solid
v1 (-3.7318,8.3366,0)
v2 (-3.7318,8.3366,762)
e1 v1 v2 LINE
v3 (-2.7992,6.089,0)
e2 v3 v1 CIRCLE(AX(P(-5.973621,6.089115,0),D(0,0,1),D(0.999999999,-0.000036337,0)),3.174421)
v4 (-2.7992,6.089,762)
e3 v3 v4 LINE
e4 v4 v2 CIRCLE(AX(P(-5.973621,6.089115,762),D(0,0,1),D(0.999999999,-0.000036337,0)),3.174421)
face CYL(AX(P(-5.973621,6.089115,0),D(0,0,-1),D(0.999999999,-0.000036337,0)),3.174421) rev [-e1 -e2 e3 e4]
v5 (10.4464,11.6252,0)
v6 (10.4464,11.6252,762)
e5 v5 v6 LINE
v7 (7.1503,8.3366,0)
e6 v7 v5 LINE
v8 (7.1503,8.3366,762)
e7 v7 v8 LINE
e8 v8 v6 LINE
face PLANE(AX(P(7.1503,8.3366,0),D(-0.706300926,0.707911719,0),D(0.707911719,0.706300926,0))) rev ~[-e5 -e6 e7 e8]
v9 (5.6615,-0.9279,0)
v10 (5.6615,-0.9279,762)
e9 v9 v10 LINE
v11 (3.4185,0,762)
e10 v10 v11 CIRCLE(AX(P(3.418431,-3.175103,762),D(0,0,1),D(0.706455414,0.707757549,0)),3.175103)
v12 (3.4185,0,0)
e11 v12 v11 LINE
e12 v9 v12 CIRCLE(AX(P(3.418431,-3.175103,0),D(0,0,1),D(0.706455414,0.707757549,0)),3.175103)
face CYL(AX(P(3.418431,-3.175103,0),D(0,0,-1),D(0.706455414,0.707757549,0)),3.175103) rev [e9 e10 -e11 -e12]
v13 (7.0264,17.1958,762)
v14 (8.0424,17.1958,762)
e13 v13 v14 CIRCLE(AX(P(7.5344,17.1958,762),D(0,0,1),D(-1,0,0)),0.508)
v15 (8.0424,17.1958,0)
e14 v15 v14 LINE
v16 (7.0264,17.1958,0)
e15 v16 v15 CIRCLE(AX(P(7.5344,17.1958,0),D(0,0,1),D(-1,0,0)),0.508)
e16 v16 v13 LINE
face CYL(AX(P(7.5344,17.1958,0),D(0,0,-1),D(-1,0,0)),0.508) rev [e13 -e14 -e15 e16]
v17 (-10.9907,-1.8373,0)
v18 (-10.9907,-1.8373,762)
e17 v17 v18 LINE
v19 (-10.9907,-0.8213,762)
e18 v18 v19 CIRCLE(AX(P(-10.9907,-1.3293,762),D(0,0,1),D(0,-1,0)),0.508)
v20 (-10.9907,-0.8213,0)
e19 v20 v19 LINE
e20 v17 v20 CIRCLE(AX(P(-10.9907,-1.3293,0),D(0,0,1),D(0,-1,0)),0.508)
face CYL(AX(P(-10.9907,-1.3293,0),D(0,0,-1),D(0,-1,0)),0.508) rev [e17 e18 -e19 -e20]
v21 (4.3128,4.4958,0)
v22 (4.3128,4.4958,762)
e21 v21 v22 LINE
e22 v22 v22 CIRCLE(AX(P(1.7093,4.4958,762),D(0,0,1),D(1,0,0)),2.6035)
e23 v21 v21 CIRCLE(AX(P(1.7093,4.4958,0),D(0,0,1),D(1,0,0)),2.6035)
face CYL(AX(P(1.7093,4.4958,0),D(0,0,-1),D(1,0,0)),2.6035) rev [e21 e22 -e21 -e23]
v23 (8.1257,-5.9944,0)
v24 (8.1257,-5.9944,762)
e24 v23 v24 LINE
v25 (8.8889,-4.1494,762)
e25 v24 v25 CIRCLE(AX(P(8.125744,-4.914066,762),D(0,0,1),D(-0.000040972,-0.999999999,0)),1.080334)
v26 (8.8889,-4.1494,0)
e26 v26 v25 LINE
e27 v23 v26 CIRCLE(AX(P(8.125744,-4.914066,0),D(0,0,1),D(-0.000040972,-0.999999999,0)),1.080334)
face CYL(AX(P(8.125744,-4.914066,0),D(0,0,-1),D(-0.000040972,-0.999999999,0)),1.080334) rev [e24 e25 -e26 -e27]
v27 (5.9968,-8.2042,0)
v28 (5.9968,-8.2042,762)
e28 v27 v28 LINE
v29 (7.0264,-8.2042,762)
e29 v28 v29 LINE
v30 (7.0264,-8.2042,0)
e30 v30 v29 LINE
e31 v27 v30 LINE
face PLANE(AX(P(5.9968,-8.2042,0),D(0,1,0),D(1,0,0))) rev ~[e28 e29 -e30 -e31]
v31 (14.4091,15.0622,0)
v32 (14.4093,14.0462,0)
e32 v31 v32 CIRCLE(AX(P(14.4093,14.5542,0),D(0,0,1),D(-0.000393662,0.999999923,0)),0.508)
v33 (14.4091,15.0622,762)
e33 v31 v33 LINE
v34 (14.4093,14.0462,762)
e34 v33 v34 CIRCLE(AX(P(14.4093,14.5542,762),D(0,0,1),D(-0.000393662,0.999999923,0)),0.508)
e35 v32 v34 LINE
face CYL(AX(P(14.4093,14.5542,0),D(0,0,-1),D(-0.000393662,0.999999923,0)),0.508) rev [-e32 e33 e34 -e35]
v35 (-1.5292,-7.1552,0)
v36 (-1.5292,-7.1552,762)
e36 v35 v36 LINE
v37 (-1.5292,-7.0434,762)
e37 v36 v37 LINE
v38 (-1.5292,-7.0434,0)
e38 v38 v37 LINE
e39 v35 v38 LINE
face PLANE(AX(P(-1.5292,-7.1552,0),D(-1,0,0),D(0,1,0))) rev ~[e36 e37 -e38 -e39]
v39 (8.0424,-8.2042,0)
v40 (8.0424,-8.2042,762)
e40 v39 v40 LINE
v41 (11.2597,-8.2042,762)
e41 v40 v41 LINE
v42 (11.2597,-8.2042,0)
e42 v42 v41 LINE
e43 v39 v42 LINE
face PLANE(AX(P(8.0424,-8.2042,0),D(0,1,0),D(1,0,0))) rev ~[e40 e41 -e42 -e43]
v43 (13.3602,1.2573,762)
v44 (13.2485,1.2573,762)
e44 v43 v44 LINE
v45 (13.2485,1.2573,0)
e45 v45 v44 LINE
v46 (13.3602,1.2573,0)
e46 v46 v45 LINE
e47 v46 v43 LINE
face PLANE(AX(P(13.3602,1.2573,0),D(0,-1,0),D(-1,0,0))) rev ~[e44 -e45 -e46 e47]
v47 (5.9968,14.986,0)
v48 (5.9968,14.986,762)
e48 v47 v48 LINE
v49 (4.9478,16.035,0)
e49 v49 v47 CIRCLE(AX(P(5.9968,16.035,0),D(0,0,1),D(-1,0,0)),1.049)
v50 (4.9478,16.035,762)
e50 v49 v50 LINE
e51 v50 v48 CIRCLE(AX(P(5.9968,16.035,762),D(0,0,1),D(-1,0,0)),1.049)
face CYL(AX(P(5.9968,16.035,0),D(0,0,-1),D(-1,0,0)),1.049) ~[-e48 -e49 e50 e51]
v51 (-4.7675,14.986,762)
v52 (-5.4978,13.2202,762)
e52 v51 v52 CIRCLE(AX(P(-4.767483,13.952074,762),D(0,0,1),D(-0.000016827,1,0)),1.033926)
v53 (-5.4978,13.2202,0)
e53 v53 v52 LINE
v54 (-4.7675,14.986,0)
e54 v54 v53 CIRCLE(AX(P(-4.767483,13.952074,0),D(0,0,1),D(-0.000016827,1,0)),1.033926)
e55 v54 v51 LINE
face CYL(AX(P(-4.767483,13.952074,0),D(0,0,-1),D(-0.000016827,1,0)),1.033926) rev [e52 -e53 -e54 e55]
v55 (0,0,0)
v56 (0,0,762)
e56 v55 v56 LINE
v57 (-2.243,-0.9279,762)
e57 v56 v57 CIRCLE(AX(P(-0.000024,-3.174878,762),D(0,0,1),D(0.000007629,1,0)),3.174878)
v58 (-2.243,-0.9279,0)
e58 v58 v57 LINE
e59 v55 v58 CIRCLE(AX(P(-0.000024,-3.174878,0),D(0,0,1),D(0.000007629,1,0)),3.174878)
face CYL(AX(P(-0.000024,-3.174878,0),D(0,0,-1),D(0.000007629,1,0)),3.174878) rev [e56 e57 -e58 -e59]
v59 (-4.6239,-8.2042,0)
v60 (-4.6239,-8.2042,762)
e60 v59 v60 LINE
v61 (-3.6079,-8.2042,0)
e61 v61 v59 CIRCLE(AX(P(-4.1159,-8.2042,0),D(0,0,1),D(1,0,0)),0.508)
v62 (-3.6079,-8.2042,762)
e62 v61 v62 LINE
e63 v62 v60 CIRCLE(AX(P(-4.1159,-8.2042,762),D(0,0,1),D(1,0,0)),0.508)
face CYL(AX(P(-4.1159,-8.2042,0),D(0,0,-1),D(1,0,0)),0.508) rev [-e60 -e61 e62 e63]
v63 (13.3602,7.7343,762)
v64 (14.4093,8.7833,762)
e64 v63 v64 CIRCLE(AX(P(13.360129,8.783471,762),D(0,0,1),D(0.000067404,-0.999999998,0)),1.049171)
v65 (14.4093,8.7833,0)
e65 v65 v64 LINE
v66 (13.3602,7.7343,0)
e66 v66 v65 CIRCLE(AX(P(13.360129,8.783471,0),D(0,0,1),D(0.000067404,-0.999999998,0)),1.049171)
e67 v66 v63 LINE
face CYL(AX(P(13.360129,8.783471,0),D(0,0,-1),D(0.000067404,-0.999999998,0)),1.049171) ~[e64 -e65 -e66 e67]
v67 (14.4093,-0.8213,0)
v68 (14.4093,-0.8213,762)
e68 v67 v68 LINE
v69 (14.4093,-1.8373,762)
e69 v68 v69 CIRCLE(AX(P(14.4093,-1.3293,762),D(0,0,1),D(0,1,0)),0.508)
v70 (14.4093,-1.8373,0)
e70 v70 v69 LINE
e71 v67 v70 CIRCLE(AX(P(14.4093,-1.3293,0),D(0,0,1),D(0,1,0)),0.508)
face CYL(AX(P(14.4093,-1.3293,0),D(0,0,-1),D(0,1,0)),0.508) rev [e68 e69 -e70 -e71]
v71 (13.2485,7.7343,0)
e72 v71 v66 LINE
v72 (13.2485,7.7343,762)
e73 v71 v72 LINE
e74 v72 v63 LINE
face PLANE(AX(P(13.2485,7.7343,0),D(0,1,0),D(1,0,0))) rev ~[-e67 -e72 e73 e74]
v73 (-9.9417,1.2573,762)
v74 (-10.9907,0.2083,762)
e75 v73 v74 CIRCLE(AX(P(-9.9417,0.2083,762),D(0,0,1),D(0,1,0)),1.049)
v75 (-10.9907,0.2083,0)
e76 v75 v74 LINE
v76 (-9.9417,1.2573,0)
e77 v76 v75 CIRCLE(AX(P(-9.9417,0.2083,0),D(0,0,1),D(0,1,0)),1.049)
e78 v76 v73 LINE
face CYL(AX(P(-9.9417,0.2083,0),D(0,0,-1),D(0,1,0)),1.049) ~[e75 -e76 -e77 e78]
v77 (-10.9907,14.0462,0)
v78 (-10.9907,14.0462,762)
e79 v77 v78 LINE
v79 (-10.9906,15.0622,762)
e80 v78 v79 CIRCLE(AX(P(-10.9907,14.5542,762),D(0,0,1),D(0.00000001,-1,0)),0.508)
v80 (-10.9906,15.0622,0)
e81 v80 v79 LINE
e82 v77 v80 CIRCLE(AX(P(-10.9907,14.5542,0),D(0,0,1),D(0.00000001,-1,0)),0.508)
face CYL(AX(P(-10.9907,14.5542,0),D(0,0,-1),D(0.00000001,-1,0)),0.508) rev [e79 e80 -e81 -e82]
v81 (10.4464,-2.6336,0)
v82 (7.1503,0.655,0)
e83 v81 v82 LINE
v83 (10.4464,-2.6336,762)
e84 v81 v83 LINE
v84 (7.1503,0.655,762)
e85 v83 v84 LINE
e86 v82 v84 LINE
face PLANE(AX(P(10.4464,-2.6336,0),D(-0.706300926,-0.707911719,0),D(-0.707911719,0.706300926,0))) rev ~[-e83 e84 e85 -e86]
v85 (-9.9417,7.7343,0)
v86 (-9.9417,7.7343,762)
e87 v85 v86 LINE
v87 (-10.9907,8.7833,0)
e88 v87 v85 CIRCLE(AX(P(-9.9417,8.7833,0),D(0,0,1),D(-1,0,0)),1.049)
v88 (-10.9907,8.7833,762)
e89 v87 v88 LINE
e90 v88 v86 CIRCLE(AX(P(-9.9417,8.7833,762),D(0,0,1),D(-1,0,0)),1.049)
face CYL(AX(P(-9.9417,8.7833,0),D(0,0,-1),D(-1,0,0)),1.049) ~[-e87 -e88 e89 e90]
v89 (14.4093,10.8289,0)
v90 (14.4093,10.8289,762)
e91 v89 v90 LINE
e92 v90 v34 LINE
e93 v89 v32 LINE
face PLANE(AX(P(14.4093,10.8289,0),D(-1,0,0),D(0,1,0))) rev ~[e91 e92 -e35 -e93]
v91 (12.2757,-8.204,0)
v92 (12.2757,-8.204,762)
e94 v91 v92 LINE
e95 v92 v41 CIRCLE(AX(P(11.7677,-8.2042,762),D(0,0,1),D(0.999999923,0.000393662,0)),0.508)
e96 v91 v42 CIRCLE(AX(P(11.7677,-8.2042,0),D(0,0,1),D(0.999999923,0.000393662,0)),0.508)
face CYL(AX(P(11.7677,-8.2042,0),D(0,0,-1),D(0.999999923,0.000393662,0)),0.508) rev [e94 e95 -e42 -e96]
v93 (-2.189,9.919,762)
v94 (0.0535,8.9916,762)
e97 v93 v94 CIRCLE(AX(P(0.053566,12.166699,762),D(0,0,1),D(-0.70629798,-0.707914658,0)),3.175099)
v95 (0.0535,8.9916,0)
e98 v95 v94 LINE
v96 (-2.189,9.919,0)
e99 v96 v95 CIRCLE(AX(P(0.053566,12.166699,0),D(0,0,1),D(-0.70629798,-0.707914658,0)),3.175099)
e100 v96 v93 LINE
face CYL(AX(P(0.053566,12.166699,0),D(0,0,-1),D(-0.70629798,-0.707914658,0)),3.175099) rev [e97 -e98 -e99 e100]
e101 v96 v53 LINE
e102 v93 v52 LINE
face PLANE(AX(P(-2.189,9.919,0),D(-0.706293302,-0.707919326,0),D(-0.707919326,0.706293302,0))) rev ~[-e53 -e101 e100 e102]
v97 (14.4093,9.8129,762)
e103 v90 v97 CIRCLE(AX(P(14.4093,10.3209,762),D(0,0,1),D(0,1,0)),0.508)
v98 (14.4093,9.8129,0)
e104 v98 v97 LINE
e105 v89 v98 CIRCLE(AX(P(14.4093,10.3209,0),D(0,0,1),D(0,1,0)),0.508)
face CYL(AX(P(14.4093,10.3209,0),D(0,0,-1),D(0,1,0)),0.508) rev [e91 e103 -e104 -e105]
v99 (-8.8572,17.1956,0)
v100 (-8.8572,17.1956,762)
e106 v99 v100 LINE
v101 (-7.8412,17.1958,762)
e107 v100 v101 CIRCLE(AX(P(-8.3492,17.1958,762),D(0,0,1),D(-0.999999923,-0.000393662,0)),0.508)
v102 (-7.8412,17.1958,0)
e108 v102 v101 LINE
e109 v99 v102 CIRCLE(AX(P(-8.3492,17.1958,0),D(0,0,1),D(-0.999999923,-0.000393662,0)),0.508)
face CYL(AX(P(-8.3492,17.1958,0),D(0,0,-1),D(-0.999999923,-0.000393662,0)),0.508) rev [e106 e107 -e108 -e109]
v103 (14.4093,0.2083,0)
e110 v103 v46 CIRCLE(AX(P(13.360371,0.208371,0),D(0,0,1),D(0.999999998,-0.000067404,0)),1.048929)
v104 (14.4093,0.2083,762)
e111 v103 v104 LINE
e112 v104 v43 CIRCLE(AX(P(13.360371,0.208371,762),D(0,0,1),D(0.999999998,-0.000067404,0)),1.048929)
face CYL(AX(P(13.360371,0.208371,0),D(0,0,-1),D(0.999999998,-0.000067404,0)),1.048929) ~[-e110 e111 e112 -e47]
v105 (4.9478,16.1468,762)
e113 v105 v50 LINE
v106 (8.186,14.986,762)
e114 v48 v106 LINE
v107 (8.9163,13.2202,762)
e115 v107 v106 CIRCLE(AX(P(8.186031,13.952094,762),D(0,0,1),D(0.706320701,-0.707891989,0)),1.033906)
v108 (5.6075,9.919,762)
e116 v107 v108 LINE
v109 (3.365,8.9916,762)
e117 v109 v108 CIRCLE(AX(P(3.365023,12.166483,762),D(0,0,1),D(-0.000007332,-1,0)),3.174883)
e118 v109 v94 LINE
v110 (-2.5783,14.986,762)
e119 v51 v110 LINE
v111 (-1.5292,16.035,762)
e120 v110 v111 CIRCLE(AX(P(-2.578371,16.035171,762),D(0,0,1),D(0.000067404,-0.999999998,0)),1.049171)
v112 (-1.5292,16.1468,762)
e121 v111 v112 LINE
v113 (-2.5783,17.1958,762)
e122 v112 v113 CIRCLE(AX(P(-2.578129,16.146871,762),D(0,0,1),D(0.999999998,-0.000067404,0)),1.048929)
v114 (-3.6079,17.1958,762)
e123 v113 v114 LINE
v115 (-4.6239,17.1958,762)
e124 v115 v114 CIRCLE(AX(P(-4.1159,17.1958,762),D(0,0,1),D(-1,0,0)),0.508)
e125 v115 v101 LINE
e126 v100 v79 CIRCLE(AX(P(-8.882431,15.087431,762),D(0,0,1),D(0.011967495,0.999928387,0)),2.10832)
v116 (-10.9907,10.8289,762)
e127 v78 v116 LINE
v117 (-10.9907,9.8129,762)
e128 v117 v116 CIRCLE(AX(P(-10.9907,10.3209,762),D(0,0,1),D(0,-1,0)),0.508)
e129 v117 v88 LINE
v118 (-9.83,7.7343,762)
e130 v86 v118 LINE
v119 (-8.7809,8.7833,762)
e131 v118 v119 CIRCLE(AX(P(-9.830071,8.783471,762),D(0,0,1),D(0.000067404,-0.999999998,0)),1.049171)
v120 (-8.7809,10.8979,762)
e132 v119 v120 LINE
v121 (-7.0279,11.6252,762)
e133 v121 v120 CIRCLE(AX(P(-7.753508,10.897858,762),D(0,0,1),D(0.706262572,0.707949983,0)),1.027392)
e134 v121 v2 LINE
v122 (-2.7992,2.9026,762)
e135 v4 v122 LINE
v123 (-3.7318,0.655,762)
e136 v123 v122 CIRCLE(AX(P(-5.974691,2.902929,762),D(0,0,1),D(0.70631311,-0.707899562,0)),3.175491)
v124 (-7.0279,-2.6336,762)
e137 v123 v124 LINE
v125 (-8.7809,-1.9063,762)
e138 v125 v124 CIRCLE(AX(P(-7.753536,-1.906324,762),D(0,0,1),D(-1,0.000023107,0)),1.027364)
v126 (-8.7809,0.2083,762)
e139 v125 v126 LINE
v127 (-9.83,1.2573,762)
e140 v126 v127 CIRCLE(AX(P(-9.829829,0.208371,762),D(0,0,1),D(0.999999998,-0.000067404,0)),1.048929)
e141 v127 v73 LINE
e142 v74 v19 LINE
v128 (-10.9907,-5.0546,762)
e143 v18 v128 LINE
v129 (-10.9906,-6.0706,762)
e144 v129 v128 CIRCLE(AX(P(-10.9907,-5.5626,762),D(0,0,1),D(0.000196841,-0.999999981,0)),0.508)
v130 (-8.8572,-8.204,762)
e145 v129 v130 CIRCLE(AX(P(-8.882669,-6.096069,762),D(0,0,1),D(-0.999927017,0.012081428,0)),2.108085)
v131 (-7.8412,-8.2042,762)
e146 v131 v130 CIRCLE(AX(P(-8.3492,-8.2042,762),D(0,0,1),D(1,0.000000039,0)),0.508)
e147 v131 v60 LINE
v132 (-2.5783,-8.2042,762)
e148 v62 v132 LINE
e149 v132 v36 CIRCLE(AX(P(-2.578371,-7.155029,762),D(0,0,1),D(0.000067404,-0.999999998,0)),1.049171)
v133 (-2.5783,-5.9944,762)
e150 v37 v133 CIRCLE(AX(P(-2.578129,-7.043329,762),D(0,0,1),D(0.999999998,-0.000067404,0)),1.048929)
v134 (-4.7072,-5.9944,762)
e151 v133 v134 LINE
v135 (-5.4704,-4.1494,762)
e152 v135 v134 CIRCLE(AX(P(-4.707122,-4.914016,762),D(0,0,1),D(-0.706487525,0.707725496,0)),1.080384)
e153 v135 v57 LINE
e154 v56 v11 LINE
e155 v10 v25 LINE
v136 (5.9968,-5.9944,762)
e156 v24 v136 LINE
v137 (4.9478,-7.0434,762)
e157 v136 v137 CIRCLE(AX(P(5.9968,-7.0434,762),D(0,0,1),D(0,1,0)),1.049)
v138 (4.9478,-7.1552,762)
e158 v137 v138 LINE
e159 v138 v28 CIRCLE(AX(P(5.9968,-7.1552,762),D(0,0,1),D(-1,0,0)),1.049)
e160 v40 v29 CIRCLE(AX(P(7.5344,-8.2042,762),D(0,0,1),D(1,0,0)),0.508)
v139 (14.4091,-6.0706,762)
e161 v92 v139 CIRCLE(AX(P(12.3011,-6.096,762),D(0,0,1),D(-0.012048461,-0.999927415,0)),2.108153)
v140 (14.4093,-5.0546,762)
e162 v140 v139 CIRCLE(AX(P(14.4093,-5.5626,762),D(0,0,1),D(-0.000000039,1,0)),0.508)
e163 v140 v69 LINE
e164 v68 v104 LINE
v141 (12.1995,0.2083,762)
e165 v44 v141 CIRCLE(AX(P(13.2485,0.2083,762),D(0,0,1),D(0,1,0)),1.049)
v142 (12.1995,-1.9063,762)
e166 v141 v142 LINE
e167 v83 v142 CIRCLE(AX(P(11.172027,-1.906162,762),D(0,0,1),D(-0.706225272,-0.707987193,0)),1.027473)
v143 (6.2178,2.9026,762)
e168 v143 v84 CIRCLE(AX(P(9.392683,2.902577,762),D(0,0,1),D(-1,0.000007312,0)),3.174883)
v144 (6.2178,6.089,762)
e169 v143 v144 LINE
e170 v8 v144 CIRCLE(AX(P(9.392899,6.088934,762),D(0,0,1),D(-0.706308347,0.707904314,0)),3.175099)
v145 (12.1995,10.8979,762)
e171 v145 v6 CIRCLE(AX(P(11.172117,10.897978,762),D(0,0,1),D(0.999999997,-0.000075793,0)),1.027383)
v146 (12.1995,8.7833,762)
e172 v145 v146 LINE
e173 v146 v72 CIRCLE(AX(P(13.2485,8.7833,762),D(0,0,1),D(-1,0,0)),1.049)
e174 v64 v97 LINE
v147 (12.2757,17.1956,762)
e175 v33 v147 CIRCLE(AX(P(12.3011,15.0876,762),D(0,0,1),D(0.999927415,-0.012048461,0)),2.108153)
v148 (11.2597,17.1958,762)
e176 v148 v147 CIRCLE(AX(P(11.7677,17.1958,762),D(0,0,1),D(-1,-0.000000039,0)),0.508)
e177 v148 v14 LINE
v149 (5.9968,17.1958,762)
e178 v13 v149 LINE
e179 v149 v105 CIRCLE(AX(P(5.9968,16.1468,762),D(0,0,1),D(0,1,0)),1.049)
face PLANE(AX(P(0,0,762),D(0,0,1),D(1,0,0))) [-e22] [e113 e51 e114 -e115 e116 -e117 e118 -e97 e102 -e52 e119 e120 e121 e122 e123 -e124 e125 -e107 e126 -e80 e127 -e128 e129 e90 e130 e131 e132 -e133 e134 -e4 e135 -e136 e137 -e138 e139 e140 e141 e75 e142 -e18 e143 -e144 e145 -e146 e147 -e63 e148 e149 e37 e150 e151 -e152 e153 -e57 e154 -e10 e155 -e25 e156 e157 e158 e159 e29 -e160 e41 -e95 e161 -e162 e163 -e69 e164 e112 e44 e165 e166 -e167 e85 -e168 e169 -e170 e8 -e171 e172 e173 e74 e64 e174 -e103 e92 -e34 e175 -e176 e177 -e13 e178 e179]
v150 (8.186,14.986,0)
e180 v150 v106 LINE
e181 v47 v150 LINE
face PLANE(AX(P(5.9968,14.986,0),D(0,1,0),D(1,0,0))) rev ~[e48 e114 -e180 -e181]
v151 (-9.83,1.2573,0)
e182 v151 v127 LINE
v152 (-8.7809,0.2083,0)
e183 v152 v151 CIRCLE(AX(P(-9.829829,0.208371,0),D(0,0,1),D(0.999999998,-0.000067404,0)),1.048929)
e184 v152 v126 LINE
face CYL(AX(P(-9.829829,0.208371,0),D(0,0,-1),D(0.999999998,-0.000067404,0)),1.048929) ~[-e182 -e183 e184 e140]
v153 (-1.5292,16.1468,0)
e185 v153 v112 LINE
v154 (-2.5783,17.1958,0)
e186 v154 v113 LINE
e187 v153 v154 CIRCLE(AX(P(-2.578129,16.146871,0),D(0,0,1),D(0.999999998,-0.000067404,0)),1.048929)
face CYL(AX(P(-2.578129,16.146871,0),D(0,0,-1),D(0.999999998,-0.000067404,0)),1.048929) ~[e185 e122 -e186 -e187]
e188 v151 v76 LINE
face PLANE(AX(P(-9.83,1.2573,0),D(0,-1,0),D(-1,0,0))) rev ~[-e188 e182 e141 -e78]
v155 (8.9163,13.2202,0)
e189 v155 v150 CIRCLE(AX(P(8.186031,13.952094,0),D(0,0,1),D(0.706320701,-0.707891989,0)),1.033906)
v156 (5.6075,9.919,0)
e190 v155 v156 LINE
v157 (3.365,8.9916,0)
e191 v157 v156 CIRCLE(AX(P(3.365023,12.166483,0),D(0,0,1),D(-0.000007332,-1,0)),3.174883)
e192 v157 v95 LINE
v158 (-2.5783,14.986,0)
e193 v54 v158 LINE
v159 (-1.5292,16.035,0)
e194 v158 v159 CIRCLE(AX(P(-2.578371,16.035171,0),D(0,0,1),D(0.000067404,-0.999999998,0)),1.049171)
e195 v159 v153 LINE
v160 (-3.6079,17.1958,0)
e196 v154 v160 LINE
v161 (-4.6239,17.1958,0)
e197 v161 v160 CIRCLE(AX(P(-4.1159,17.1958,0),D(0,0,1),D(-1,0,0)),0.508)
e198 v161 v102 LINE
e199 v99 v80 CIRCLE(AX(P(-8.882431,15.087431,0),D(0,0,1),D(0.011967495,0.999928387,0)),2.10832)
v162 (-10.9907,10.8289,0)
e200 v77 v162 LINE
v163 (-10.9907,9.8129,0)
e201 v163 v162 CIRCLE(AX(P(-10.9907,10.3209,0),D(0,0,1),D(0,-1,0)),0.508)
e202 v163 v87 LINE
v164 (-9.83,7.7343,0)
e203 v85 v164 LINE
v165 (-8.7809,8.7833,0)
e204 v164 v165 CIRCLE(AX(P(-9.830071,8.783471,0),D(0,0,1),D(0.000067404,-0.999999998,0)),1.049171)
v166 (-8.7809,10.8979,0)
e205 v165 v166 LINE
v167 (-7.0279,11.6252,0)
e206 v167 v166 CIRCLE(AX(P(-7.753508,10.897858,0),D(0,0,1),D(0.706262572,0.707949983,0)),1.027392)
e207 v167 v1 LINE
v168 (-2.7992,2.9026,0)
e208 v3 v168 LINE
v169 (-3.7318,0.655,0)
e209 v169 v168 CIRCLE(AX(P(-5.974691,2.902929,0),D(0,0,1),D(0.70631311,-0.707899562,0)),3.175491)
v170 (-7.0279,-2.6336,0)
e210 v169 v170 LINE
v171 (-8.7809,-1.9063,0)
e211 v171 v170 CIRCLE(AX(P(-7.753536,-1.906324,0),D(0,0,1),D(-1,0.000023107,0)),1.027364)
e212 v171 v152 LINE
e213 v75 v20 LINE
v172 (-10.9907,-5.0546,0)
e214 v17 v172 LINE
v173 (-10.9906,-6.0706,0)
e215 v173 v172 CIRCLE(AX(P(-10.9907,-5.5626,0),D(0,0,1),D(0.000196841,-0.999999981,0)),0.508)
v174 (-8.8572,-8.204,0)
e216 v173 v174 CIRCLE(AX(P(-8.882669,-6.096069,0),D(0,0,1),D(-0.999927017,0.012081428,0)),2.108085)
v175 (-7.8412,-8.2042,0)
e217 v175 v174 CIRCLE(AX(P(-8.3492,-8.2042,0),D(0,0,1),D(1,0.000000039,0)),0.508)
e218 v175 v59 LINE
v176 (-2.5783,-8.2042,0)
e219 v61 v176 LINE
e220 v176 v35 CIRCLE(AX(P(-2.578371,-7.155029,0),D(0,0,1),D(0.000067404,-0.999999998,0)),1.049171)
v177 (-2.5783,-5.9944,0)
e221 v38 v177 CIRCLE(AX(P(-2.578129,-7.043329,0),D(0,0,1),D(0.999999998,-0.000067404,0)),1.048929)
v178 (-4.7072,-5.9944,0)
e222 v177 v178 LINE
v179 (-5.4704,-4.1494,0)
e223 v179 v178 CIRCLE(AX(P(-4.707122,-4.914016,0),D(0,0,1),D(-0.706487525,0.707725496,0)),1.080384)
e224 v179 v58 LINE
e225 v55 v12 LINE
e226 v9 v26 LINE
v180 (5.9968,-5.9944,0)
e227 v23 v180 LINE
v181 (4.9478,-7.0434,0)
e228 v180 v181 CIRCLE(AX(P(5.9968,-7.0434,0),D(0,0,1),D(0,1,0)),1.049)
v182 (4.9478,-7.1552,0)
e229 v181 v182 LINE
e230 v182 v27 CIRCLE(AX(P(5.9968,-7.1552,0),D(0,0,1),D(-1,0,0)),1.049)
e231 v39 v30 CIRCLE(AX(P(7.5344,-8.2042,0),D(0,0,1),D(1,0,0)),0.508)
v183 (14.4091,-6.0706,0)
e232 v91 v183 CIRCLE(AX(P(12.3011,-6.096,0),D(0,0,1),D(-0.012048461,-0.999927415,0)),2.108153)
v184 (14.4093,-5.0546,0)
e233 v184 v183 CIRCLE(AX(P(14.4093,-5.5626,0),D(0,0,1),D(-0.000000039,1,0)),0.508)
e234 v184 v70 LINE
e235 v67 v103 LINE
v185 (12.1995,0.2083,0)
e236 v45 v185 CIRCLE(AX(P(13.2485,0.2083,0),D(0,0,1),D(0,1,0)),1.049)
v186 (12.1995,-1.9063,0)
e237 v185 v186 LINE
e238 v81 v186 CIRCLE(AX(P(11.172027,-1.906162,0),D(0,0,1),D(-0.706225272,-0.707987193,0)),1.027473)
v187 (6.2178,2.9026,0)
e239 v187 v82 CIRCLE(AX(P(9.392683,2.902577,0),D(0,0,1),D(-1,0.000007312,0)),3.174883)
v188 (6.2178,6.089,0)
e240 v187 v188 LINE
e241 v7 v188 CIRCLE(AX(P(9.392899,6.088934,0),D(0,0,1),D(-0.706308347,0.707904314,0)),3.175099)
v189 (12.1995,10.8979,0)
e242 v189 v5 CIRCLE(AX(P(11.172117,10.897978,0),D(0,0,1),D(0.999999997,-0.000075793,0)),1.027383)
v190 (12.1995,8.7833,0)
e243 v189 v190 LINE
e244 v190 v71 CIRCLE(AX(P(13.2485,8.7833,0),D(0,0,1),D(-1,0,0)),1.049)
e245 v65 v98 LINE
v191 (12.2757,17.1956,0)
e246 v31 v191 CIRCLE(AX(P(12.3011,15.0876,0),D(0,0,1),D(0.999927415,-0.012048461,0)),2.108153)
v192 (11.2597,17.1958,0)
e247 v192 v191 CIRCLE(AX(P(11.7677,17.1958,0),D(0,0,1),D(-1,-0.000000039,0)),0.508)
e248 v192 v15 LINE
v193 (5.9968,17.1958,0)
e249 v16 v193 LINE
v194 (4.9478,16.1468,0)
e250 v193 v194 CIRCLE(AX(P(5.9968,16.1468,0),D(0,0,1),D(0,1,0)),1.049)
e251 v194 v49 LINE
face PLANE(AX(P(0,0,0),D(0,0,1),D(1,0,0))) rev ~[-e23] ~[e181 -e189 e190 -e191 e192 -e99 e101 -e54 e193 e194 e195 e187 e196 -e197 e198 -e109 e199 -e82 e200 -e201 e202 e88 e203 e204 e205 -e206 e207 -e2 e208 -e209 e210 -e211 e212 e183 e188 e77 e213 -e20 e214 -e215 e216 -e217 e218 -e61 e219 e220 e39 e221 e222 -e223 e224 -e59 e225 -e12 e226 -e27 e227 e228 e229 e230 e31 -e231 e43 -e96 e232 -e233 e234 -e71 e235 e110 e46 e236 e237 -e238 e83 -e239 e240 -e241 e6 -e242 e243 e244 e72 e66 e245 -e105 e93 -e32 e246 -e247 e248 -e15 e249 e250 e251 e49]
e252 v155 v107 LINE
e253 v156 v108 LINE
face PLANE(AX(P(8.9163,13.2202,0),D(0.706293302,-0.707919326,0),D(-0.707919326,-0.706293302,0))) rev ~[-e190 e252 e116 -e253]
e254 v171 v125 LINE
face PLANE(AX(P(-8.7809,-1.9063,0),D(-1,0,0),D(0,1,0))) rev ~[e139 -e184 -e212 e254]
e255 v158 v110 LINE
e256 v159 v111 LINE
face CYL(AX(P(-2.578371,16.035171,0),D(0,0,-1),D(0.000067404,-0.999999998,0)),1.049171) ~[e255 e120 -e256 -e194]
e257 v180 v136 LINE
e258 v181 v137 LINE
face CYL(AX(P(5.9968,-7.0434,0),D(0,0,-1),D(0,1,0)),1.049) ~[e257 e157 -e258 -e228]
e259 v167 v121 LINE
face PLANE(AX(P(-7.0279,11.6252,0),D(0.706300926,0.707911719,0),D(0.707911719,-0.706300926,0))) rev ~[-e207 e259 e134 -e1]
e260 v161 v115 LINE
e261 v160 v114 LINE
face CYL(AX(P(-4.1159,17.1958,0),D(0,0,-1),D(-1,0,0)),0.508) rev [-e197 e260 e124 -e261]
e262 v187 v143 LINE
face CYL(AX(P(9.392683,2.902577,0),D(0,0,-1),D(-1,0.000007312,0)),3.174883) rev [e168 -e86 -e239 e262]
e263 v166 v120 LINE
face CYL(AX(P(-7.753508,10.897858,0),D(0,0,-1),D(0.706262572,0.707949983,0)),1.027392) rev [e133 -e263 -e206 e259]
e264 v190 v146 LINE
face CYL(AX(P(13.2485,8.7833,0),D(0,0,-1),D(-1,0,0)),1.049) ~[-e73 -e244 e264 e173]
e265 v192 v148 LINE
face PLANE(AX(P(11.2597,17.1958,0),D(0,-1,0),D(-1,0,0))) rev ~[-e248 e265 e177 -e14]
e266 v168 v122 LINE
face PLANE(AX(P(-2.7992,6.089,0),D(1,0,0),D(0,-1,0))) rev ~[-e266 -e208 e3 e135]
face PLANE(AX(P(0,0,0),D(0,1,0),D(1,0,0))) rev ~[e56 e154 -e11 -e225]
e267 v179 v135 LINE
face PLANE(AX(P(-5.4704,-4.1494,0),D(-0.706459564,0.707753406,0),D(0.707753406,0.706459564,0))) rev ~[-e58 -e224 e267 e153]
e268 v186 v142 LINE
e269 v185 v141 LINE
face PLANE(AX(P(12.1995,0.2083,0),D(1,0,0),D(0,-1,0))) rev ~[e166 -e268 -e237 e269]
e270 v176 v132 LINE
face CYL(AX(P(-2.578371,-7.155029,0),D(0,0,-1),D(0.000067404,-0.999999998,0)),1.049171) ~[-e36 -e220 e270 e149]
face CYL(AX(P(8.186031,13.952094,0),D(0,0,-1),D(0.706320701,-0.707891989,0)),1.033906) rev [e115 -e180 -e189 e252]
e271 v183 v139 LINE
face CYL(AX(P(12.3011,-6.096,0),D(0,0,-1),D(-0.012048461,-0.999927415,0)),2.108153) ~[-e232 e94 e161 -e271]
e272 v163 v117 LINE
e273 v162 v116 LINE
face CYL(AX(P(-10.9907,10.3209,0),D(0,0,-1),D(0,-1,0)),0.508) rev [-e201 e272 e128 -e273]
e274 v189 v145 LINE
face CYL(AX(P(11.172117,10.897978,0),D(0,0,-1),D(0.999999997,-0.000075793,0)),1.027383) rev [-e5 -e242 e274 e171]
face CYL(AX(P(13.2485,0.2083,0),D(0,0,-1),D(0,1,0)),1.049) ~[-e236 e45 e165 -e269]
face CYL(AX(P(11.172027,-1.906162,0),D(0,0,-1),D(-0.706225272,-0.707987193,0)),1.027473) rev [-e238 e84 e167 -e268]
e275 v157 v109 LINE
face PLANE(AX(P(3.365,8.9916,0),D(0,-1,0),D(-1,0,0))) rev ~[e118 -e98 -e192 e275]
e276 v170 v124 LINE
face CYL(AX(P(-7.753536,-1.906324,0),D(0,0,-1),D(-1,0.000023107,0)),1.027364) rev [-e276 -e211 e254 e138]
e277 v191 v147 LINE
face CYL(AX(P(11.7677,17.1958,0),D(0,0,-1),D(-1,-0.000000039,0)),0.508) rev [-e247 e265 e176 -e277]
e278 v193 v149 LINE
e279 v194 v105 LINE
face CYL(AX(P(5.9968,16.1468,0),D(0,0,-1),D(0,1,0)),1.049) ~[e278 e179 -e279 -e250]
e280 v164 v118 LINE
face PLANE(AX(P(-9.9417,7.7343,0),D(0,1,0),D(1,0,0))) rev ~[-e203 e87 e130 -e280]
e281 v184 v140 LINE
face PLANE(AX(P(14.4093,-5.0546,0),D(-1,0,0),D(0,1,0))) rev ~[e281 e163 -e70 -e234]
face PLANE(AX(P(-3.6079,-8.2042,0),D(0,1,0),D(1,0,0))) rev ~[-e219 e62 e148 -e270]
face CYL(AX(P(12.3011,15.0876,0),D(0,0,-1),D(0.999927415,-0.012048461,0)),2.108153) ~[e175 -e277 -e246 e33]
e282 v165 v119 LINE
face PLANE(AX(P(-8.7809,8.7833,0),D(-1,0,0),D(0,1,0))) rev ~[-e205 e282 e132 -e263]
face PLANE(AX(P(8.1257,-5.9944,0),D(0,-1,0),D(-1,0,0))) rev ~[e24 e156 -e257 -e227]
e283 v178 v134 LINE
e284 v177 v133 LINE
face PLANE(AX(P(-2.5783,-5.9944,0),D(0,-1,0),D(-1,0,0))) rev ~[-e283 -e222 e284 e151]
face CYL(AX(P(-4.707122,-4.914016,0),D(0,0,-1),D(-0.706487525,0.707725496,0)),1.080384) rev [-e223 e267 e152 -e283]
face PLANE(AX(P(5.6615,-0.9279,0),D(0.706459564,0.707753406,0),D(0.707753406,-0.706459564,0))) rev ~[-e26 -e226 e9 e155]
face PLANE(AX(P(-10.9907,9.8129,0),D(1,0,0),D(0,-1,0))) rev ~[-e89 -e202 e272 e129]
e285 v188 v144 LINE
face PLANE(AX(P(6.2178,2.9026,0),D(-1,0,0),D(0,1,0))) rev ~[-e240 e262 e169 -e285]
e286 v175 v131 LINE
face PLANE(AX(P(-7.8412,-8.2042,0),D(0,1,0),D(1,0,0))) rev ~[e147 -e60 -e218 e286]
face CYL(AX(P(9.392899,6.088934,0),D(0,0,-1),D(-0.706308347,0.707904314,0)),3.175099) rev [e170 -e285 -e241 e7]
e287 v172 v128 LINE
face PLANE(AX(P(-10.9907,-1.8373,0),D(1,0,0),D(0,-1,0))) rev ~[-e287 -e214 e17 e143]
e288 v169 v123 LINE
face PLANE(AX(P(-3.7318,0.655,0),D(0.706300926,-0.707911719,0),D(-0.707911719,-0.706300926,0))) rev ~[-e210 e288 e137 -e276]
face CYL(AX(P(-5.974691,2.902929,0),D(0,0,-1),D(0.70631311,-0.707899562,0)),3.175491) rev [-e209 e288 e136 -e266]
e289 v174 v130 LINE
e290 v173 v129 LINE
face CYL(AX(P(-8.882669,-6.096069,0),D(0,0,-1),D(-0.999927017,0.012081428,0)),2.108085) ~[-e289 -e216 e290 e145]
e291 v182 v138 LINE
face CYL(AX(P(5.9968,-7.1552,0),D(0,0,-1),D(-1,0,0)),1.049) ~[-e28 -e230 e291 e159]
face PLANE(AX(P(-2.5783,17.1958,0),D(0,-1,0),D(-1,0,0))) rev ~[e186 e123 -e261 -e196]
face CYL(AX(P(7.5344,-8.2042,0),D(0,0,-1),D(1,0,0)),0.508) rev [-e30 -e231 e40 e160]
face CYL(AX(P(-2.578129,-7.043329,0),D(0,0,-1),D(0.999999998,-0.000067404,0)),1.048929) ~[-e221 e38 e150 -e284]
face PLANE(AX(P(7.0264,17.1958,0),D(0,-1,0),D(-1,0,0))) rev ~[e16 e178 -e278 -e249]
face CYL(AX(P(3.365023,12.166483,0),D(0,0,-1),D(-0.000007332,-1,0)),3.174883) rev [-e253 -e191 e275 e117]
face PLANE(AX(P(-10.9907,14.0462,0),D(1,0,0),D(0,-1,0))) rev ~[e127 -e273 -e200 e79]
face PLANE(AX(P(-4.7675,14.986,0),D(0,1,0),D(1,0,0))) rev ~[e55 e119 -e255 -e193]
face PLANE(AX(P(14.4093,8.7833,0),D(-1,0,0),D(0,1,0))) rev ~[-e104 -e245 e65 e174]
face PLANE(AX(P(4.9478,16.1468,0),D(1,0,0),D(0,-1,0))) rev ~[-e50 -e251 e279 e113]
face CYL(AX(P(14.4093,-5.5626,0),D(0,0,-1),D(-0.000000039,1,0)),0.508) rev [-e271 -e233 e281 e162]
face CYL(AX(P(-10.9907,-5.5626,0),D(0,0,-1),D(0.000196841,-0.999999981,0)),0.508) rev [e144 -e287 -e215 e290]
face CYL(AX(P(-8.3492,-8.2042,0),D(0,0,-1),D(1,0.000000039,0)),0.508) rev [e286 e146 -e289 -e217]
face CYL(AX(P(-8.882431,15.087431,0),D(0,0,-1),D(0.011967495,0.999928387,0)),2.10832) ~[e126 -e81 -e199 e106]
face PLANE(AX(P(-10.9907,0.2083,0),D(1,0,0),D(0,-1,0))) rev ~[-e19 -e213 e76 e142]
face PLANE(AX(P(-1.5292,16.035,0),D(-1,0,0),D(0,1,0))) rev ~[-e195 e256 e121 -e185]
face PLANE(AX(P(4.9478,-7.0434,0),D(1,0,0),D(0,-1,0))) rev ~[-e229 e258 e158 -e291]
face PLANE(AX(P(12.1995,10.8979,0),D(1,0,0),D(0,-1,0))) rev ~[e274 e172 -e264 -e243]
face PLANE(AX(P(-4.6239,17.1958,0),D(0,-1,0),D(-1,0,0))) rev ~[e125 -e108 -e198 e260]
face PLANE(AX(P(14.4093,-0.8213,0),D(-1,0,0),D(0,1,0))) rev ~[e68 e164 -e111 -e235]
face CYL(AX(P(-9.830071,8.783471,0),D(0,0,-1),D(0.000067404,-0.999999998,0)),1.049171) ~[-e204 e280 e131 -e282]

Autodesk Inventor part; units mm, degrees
ref_plane "YZ Plane" through (0, 0, 0) normal (1, 0, 0) x (0, 1, 0)
ref_plane "XZ Plane" through (0, 0, 0) normal (0, 1, 0) x (-1, 0, 0)
ref_plane "XY Plane" through (0, 0, 0) normal (0, 0, 1) x (1, 0, 0)
sketch "Sketch1" plane through (0, 0, 0) normal (0, 0, 1) x (1, 0, 0)
  arc A0 (-5.4704, -4.1494) -> (-4.7072, -5.9944) centre (-4.7072, -4.914) ccw
  line L0 (-5.4704, -4.1494) -> (-2.243, -0.9279)
  arc A1 (0, 0) -> (-2.243, -0.9279) centre (0, -3.175) ccw
  line L1 (0, 0) -> (3.4185, 0)
  arc A2 (5.6615, -0.9279) -> (3.4185, 0) centre (3.4185, -3.175) ccw
  line L2 (5.6615, -0.9279) -> (8.8889, -4.1494)
  arc A3 (8.1257, -5.9944) -> (8.8889, -4.1494) centre (8.1257, -4.914) ccw
  line L3 (8.1257, -5.9944) -> (5.9968, -5.9944)
  arc A4 (5.9968, -5.9944) -> (4.9478, -7.0434) centre (5.9968, -7.0434) ccw
  line L4 (4.9478, -7.0434) -> (4.9478, -7.1552)
  arc A5 (4.9478, -7.1552) -> (5.9968, -8.2042) centre (5.9968, -7.1552) ccw
  line L5 (5.9968, -8.2042) -> (7.0264, -8.2042)
  arc A6 (8.0424, -8.2042) -> (7.0264, -8.2042) centre (7.5344, -8.2042) ccw
  line L6 (8.0424, -8.2042) -> (11.2597, -8.2042)
  arc A7 (12.2757, -8.204) -> (11.2597, -8.2042) centre (11.7677, -8.2042) ccw
  arc A8 (12.2757, -8.204) -> (14.4091, -6.0706) centre (12.3011, -6.096) ccw
  arc A9 (14.4093, -5.0546) -> (14.4091, -6.0706) centre (14.4093, -5.5626) ccw
  line L7 (14.4093, -5.0546) -> (14.4093, -1.8373)
  arc A10 (14.4093, -0.8213) -> (14.4093, -1.8373) centre (14.4093, -1.3293) ccw
  line L8 (14.4093, -0.8213) -> (14.4093, 0.2083)
  arc A11 (14.4093, 0.2083) -> (13.3602, 1.2573) centre (13.3602, 0.2083) ccw
  line L9 (13.3602, 1.2573) -> (13.2485, 1.2573)
  arc A12 (13.2485, 1.2573) -> (12.1995, 0.2083) centre (13.2485, 0.2083) ccw
  line L10 (12.1995, 0.2083) -> (12.1995, -1.9063)
  arc A13 (10.4464, -2.6336) -> (12.1995, -1.9063) centre (11.172, -1.9063) ccw
  line L11 (10.4464, -2.6336) -> (7.1503, 0.655)
  arc A14 (6.2178, 2.9026) -> (7.1503, 0.655) centre (9.3928, 2.9026) ccw
  line L12 (6.2178, 2.9026) -> (6.2178, 6.089)
  arc A15 (7.1503, 8.3366) -> (6.2178, 6.089) centre (9.3928, 6.089) ccw
  line L13 (7.1503, 8.3366) -> (10.4464, 11.6252)
  arc A16 (12.1995, 10.8979) -> (10.4464, 11.6252) centre (11.172, 10.8979) ccw
  line L14 (12.1995, 10.8979) -> (12.1995, 8.7833)
  arc A17 (12.1995, 8.7833) -> (13.2485, 7.7343) centre (13.2485, 8.7833) ccw
  line L15 (13.2485, 7.7343) -> (13.3602, 7.7343)
  arc A18 (13.3602, 7.7343) -> (14.4093, 8.7833) centre (13.3602, 8.7833) ccw
  line L16 (14.4093, 8.7833) -> (14.4093, 9.8129)
  arc A19 (14.4093, 10.8289) -> (14.4093, 9.8129) centre (14.4093, 10.3209) ccw
  line L17 (14.4093, 10.8289) -> (14.4093, 14.0462)
  arc A20 (14.4091, 15.0622) -> (14.4093, 14.0462) centre (14.4093, 14.5542) ccw
  arc A21 (14.4091, 15.0622) -> (12.2757, 17.1956) centre (12.3011, 15.0876) ccw
  arc A22 (11.2597, 17.1958) -> (12.2757, 17.1956) centre (11.7677, 17.1958) ccw
  line L18 (11.2597, 17.1958) -> (8.0424, 17.1958)
  arc A23 (7.0264, 17.1958) -> (8.0424, 17.1958) centre (7.5344, 17.1958) ccw
  line L19 (7.0264, 17.1958) -> (5.9968, 17.1958)
  arc A24 (5.9968, 17.1958) -> (4.9478, 16.1468) centre (5.9968, 16.1468) ccw
  line L20 (4.9478, 16.1468) -> (4.9478, 16.035)
  arc A25 (4.9478, 16.035) -> (5.9968, 14.986) centre (5.9968, 16.035) ccw
  line L21 (5.9968, 14.986) -> (8.186, 14.986)
  arc A26 (8.9163, 13.2202) -> (8.186, 14.986) centre (8.186, 13.9521) ccw
  line L22 (8.9163, 13.2202) -> (5.6075, 9.919)
  arc A27 (3.365, 8.9916) -> (5.6075, 9.919) centre (3.365, 12.1666) ccw
  line L23 (3.365, 8.9916) -> (0.0535, 8.9916)
  arc A28 (-2.189, 9.919) -> (0.0535, 8.9916) centre (0.0535, 12.1666) ccw
  line L24 (-2.189, 9.919) -> (-5.4978, 13.2202)
  arc A29 (-4.7675, 14.986) -> (-5.4978, 13.2202) centre (-4.7675, 13.9521) ccw
  line L25 (-4.7675, 14.986) -> (-2.5783, 14.986)
  arc A30 (-2.5783, 14.986) -> (-1.5292, 16.035) centre (-2.5783, 16.035) ccw
  line L26 (-1.5292, 16.035) -> (-1.5292, 16.1468)
  arc A31 (-1.5292, 16.1468) -> (-2.5783, 17.1958) centre (-2.5783, 16.1468) ccw
  line L27 (-2.5783, 17.1958) -> (-3.6079, 17.1958)
  arc A32 (-4.6239, 17.1958) -> (-3.6079, 17.1958) centre (-4.1159, 17.1958) ccw
  line L28 (-4.6239, 17.1958) -> (-7.8412, 17.1958)
  arc A33 (-8.8572, 17.1956) -> (-7.8412, 17.1958) centre (-8.3492, 17.1958) ccw
  arc A34 (-8.8572, 17.1956) -> (-10.9906, 15.0622) centre (-8.8825, 15.0876) ccw
  arc A35 (-10.9907, 14.0462) -> (-10.9906, 15.0622) centre (-10.9907, 14.5542) ccw
  line L29 (-10.9907, 14.0462) -> (-10.9907, 10.8289)
  arc A36 (-10.9907, 9.8129) -> (-10.9907, 10.8289) centre (-10.9907, 10.3209) ccw
  line L30 (-10.9907, 9.8129) -> (-10.9907, 8.7833)
  arc A37 (-10.9907, 8.7833) -> (-9.9417, 7.7343) centre (-9.9417, 8.7833) ccw
  line L31 (-9.9417, 7.7343) -> (-9.83, 7.7343)
  arc A38 (-9.83, 7.7343) -> (-8.7809, 8.7833) centre (-9.83, 8.7833) ccw
  line L32 (-8.7809, 8.7833) -> (-8.7809, 10.8979)
  arc A39 (-7.0279, 11.6252) -> (-8.7809, 10.8979) centre (-7.7535, 10.8979) ccw
  line L33 (-7.0279, 11.6252) -> (-3.7318, 8.3366)
  arc A40 (-2.7992, 6.089) -> (-3.7318, 8.3366) centre (-5.9742, 6.089) ccw
  line L34 (-2.7992, 6.089) -> (-2.7992, 2.9026)
  arc A41 (-3.7318, 0.655) -> (-2.7992, 2.9026) centre (-5.9742, 2.9026) ccw
  line L35 (-3.7318, 0.655) -> (-7.0279, -2.6336)
  arc A42 (-8.7809, -1.9063) -> (-7.0279, -2.6336) centre (-7.7535, -1.9063) ccw
  line L36 (-8.7809, -1.9063) -> (-8.7809, 0.2083)
  arc A43 (-8.7809, 0.2083) -> (-9.83, 1.2573) centre (-9.83, 0.2083) ccw
  line L37 (-9.83, 1.2573) -> (-9.9417, 1.2573)
  arc A44 (-9.9417, 1.2573) -> (-10.9907, 0.2083) centre (-9.9417, 0.2083) ccw
  line L38 (-10.9907, 0.2083) -> (-10.9907, -0.8213)
  arc A45 (-10.9907, -1.8373) -> (-10.9907, -0.8213) centre (-10.9907, -1.3293) ccw
  line L39 (-10.9907, -1.8373) -> (-10.9907, -5.0546)
  arc A46 (-10.9906, -6.0706) -> (-10.9907, -5.0546) centre (-10.9907, -5.5626) ccw
  arc A47 (-10.9906, -6.0706) -> (-8.8572, -8.204) centre (-8.8825, -6.096) ccw
  arc A48 (-7.8412, -8.2042) -> (-8.8572, -8.204) centre (-8.3492, -8.2042) ccw
  line L40 (-7.8412, -8.2042) -> (-4.6239, -8.2042)
  arc A49 (-3.6079, -8.2042) -> (-4.6239, -8.2042) centre (-4.1159, -8.2042) ccw
  line L41 (-3.6079, -8.2042) -> (-2.5783, -8.2042)
  arc A50 (-2.5783, -8.2042) -> (-1.5292, -7.1552) centre (-2.5783, -7.1552) ccw
  line L42 (-1.5292, -7.1552) -> (-1.5292, -7.0434)
  arc A51 (-1.5292, -7.0434) -> (-2.5783, -5.9944) centre (-2.5783, -7.0434) ccw
  line L43 (-2.5783, -5.9944) -> (-4.7072, -5.9944)
  circle A52 centre (1.7093, 4.4958) radius 2.6035
extrude "Extrusion1" add sketch "Sketch1" along normal blind 762
properties part number "30 in 1x1 T slot" material "Steel, Alloy"
